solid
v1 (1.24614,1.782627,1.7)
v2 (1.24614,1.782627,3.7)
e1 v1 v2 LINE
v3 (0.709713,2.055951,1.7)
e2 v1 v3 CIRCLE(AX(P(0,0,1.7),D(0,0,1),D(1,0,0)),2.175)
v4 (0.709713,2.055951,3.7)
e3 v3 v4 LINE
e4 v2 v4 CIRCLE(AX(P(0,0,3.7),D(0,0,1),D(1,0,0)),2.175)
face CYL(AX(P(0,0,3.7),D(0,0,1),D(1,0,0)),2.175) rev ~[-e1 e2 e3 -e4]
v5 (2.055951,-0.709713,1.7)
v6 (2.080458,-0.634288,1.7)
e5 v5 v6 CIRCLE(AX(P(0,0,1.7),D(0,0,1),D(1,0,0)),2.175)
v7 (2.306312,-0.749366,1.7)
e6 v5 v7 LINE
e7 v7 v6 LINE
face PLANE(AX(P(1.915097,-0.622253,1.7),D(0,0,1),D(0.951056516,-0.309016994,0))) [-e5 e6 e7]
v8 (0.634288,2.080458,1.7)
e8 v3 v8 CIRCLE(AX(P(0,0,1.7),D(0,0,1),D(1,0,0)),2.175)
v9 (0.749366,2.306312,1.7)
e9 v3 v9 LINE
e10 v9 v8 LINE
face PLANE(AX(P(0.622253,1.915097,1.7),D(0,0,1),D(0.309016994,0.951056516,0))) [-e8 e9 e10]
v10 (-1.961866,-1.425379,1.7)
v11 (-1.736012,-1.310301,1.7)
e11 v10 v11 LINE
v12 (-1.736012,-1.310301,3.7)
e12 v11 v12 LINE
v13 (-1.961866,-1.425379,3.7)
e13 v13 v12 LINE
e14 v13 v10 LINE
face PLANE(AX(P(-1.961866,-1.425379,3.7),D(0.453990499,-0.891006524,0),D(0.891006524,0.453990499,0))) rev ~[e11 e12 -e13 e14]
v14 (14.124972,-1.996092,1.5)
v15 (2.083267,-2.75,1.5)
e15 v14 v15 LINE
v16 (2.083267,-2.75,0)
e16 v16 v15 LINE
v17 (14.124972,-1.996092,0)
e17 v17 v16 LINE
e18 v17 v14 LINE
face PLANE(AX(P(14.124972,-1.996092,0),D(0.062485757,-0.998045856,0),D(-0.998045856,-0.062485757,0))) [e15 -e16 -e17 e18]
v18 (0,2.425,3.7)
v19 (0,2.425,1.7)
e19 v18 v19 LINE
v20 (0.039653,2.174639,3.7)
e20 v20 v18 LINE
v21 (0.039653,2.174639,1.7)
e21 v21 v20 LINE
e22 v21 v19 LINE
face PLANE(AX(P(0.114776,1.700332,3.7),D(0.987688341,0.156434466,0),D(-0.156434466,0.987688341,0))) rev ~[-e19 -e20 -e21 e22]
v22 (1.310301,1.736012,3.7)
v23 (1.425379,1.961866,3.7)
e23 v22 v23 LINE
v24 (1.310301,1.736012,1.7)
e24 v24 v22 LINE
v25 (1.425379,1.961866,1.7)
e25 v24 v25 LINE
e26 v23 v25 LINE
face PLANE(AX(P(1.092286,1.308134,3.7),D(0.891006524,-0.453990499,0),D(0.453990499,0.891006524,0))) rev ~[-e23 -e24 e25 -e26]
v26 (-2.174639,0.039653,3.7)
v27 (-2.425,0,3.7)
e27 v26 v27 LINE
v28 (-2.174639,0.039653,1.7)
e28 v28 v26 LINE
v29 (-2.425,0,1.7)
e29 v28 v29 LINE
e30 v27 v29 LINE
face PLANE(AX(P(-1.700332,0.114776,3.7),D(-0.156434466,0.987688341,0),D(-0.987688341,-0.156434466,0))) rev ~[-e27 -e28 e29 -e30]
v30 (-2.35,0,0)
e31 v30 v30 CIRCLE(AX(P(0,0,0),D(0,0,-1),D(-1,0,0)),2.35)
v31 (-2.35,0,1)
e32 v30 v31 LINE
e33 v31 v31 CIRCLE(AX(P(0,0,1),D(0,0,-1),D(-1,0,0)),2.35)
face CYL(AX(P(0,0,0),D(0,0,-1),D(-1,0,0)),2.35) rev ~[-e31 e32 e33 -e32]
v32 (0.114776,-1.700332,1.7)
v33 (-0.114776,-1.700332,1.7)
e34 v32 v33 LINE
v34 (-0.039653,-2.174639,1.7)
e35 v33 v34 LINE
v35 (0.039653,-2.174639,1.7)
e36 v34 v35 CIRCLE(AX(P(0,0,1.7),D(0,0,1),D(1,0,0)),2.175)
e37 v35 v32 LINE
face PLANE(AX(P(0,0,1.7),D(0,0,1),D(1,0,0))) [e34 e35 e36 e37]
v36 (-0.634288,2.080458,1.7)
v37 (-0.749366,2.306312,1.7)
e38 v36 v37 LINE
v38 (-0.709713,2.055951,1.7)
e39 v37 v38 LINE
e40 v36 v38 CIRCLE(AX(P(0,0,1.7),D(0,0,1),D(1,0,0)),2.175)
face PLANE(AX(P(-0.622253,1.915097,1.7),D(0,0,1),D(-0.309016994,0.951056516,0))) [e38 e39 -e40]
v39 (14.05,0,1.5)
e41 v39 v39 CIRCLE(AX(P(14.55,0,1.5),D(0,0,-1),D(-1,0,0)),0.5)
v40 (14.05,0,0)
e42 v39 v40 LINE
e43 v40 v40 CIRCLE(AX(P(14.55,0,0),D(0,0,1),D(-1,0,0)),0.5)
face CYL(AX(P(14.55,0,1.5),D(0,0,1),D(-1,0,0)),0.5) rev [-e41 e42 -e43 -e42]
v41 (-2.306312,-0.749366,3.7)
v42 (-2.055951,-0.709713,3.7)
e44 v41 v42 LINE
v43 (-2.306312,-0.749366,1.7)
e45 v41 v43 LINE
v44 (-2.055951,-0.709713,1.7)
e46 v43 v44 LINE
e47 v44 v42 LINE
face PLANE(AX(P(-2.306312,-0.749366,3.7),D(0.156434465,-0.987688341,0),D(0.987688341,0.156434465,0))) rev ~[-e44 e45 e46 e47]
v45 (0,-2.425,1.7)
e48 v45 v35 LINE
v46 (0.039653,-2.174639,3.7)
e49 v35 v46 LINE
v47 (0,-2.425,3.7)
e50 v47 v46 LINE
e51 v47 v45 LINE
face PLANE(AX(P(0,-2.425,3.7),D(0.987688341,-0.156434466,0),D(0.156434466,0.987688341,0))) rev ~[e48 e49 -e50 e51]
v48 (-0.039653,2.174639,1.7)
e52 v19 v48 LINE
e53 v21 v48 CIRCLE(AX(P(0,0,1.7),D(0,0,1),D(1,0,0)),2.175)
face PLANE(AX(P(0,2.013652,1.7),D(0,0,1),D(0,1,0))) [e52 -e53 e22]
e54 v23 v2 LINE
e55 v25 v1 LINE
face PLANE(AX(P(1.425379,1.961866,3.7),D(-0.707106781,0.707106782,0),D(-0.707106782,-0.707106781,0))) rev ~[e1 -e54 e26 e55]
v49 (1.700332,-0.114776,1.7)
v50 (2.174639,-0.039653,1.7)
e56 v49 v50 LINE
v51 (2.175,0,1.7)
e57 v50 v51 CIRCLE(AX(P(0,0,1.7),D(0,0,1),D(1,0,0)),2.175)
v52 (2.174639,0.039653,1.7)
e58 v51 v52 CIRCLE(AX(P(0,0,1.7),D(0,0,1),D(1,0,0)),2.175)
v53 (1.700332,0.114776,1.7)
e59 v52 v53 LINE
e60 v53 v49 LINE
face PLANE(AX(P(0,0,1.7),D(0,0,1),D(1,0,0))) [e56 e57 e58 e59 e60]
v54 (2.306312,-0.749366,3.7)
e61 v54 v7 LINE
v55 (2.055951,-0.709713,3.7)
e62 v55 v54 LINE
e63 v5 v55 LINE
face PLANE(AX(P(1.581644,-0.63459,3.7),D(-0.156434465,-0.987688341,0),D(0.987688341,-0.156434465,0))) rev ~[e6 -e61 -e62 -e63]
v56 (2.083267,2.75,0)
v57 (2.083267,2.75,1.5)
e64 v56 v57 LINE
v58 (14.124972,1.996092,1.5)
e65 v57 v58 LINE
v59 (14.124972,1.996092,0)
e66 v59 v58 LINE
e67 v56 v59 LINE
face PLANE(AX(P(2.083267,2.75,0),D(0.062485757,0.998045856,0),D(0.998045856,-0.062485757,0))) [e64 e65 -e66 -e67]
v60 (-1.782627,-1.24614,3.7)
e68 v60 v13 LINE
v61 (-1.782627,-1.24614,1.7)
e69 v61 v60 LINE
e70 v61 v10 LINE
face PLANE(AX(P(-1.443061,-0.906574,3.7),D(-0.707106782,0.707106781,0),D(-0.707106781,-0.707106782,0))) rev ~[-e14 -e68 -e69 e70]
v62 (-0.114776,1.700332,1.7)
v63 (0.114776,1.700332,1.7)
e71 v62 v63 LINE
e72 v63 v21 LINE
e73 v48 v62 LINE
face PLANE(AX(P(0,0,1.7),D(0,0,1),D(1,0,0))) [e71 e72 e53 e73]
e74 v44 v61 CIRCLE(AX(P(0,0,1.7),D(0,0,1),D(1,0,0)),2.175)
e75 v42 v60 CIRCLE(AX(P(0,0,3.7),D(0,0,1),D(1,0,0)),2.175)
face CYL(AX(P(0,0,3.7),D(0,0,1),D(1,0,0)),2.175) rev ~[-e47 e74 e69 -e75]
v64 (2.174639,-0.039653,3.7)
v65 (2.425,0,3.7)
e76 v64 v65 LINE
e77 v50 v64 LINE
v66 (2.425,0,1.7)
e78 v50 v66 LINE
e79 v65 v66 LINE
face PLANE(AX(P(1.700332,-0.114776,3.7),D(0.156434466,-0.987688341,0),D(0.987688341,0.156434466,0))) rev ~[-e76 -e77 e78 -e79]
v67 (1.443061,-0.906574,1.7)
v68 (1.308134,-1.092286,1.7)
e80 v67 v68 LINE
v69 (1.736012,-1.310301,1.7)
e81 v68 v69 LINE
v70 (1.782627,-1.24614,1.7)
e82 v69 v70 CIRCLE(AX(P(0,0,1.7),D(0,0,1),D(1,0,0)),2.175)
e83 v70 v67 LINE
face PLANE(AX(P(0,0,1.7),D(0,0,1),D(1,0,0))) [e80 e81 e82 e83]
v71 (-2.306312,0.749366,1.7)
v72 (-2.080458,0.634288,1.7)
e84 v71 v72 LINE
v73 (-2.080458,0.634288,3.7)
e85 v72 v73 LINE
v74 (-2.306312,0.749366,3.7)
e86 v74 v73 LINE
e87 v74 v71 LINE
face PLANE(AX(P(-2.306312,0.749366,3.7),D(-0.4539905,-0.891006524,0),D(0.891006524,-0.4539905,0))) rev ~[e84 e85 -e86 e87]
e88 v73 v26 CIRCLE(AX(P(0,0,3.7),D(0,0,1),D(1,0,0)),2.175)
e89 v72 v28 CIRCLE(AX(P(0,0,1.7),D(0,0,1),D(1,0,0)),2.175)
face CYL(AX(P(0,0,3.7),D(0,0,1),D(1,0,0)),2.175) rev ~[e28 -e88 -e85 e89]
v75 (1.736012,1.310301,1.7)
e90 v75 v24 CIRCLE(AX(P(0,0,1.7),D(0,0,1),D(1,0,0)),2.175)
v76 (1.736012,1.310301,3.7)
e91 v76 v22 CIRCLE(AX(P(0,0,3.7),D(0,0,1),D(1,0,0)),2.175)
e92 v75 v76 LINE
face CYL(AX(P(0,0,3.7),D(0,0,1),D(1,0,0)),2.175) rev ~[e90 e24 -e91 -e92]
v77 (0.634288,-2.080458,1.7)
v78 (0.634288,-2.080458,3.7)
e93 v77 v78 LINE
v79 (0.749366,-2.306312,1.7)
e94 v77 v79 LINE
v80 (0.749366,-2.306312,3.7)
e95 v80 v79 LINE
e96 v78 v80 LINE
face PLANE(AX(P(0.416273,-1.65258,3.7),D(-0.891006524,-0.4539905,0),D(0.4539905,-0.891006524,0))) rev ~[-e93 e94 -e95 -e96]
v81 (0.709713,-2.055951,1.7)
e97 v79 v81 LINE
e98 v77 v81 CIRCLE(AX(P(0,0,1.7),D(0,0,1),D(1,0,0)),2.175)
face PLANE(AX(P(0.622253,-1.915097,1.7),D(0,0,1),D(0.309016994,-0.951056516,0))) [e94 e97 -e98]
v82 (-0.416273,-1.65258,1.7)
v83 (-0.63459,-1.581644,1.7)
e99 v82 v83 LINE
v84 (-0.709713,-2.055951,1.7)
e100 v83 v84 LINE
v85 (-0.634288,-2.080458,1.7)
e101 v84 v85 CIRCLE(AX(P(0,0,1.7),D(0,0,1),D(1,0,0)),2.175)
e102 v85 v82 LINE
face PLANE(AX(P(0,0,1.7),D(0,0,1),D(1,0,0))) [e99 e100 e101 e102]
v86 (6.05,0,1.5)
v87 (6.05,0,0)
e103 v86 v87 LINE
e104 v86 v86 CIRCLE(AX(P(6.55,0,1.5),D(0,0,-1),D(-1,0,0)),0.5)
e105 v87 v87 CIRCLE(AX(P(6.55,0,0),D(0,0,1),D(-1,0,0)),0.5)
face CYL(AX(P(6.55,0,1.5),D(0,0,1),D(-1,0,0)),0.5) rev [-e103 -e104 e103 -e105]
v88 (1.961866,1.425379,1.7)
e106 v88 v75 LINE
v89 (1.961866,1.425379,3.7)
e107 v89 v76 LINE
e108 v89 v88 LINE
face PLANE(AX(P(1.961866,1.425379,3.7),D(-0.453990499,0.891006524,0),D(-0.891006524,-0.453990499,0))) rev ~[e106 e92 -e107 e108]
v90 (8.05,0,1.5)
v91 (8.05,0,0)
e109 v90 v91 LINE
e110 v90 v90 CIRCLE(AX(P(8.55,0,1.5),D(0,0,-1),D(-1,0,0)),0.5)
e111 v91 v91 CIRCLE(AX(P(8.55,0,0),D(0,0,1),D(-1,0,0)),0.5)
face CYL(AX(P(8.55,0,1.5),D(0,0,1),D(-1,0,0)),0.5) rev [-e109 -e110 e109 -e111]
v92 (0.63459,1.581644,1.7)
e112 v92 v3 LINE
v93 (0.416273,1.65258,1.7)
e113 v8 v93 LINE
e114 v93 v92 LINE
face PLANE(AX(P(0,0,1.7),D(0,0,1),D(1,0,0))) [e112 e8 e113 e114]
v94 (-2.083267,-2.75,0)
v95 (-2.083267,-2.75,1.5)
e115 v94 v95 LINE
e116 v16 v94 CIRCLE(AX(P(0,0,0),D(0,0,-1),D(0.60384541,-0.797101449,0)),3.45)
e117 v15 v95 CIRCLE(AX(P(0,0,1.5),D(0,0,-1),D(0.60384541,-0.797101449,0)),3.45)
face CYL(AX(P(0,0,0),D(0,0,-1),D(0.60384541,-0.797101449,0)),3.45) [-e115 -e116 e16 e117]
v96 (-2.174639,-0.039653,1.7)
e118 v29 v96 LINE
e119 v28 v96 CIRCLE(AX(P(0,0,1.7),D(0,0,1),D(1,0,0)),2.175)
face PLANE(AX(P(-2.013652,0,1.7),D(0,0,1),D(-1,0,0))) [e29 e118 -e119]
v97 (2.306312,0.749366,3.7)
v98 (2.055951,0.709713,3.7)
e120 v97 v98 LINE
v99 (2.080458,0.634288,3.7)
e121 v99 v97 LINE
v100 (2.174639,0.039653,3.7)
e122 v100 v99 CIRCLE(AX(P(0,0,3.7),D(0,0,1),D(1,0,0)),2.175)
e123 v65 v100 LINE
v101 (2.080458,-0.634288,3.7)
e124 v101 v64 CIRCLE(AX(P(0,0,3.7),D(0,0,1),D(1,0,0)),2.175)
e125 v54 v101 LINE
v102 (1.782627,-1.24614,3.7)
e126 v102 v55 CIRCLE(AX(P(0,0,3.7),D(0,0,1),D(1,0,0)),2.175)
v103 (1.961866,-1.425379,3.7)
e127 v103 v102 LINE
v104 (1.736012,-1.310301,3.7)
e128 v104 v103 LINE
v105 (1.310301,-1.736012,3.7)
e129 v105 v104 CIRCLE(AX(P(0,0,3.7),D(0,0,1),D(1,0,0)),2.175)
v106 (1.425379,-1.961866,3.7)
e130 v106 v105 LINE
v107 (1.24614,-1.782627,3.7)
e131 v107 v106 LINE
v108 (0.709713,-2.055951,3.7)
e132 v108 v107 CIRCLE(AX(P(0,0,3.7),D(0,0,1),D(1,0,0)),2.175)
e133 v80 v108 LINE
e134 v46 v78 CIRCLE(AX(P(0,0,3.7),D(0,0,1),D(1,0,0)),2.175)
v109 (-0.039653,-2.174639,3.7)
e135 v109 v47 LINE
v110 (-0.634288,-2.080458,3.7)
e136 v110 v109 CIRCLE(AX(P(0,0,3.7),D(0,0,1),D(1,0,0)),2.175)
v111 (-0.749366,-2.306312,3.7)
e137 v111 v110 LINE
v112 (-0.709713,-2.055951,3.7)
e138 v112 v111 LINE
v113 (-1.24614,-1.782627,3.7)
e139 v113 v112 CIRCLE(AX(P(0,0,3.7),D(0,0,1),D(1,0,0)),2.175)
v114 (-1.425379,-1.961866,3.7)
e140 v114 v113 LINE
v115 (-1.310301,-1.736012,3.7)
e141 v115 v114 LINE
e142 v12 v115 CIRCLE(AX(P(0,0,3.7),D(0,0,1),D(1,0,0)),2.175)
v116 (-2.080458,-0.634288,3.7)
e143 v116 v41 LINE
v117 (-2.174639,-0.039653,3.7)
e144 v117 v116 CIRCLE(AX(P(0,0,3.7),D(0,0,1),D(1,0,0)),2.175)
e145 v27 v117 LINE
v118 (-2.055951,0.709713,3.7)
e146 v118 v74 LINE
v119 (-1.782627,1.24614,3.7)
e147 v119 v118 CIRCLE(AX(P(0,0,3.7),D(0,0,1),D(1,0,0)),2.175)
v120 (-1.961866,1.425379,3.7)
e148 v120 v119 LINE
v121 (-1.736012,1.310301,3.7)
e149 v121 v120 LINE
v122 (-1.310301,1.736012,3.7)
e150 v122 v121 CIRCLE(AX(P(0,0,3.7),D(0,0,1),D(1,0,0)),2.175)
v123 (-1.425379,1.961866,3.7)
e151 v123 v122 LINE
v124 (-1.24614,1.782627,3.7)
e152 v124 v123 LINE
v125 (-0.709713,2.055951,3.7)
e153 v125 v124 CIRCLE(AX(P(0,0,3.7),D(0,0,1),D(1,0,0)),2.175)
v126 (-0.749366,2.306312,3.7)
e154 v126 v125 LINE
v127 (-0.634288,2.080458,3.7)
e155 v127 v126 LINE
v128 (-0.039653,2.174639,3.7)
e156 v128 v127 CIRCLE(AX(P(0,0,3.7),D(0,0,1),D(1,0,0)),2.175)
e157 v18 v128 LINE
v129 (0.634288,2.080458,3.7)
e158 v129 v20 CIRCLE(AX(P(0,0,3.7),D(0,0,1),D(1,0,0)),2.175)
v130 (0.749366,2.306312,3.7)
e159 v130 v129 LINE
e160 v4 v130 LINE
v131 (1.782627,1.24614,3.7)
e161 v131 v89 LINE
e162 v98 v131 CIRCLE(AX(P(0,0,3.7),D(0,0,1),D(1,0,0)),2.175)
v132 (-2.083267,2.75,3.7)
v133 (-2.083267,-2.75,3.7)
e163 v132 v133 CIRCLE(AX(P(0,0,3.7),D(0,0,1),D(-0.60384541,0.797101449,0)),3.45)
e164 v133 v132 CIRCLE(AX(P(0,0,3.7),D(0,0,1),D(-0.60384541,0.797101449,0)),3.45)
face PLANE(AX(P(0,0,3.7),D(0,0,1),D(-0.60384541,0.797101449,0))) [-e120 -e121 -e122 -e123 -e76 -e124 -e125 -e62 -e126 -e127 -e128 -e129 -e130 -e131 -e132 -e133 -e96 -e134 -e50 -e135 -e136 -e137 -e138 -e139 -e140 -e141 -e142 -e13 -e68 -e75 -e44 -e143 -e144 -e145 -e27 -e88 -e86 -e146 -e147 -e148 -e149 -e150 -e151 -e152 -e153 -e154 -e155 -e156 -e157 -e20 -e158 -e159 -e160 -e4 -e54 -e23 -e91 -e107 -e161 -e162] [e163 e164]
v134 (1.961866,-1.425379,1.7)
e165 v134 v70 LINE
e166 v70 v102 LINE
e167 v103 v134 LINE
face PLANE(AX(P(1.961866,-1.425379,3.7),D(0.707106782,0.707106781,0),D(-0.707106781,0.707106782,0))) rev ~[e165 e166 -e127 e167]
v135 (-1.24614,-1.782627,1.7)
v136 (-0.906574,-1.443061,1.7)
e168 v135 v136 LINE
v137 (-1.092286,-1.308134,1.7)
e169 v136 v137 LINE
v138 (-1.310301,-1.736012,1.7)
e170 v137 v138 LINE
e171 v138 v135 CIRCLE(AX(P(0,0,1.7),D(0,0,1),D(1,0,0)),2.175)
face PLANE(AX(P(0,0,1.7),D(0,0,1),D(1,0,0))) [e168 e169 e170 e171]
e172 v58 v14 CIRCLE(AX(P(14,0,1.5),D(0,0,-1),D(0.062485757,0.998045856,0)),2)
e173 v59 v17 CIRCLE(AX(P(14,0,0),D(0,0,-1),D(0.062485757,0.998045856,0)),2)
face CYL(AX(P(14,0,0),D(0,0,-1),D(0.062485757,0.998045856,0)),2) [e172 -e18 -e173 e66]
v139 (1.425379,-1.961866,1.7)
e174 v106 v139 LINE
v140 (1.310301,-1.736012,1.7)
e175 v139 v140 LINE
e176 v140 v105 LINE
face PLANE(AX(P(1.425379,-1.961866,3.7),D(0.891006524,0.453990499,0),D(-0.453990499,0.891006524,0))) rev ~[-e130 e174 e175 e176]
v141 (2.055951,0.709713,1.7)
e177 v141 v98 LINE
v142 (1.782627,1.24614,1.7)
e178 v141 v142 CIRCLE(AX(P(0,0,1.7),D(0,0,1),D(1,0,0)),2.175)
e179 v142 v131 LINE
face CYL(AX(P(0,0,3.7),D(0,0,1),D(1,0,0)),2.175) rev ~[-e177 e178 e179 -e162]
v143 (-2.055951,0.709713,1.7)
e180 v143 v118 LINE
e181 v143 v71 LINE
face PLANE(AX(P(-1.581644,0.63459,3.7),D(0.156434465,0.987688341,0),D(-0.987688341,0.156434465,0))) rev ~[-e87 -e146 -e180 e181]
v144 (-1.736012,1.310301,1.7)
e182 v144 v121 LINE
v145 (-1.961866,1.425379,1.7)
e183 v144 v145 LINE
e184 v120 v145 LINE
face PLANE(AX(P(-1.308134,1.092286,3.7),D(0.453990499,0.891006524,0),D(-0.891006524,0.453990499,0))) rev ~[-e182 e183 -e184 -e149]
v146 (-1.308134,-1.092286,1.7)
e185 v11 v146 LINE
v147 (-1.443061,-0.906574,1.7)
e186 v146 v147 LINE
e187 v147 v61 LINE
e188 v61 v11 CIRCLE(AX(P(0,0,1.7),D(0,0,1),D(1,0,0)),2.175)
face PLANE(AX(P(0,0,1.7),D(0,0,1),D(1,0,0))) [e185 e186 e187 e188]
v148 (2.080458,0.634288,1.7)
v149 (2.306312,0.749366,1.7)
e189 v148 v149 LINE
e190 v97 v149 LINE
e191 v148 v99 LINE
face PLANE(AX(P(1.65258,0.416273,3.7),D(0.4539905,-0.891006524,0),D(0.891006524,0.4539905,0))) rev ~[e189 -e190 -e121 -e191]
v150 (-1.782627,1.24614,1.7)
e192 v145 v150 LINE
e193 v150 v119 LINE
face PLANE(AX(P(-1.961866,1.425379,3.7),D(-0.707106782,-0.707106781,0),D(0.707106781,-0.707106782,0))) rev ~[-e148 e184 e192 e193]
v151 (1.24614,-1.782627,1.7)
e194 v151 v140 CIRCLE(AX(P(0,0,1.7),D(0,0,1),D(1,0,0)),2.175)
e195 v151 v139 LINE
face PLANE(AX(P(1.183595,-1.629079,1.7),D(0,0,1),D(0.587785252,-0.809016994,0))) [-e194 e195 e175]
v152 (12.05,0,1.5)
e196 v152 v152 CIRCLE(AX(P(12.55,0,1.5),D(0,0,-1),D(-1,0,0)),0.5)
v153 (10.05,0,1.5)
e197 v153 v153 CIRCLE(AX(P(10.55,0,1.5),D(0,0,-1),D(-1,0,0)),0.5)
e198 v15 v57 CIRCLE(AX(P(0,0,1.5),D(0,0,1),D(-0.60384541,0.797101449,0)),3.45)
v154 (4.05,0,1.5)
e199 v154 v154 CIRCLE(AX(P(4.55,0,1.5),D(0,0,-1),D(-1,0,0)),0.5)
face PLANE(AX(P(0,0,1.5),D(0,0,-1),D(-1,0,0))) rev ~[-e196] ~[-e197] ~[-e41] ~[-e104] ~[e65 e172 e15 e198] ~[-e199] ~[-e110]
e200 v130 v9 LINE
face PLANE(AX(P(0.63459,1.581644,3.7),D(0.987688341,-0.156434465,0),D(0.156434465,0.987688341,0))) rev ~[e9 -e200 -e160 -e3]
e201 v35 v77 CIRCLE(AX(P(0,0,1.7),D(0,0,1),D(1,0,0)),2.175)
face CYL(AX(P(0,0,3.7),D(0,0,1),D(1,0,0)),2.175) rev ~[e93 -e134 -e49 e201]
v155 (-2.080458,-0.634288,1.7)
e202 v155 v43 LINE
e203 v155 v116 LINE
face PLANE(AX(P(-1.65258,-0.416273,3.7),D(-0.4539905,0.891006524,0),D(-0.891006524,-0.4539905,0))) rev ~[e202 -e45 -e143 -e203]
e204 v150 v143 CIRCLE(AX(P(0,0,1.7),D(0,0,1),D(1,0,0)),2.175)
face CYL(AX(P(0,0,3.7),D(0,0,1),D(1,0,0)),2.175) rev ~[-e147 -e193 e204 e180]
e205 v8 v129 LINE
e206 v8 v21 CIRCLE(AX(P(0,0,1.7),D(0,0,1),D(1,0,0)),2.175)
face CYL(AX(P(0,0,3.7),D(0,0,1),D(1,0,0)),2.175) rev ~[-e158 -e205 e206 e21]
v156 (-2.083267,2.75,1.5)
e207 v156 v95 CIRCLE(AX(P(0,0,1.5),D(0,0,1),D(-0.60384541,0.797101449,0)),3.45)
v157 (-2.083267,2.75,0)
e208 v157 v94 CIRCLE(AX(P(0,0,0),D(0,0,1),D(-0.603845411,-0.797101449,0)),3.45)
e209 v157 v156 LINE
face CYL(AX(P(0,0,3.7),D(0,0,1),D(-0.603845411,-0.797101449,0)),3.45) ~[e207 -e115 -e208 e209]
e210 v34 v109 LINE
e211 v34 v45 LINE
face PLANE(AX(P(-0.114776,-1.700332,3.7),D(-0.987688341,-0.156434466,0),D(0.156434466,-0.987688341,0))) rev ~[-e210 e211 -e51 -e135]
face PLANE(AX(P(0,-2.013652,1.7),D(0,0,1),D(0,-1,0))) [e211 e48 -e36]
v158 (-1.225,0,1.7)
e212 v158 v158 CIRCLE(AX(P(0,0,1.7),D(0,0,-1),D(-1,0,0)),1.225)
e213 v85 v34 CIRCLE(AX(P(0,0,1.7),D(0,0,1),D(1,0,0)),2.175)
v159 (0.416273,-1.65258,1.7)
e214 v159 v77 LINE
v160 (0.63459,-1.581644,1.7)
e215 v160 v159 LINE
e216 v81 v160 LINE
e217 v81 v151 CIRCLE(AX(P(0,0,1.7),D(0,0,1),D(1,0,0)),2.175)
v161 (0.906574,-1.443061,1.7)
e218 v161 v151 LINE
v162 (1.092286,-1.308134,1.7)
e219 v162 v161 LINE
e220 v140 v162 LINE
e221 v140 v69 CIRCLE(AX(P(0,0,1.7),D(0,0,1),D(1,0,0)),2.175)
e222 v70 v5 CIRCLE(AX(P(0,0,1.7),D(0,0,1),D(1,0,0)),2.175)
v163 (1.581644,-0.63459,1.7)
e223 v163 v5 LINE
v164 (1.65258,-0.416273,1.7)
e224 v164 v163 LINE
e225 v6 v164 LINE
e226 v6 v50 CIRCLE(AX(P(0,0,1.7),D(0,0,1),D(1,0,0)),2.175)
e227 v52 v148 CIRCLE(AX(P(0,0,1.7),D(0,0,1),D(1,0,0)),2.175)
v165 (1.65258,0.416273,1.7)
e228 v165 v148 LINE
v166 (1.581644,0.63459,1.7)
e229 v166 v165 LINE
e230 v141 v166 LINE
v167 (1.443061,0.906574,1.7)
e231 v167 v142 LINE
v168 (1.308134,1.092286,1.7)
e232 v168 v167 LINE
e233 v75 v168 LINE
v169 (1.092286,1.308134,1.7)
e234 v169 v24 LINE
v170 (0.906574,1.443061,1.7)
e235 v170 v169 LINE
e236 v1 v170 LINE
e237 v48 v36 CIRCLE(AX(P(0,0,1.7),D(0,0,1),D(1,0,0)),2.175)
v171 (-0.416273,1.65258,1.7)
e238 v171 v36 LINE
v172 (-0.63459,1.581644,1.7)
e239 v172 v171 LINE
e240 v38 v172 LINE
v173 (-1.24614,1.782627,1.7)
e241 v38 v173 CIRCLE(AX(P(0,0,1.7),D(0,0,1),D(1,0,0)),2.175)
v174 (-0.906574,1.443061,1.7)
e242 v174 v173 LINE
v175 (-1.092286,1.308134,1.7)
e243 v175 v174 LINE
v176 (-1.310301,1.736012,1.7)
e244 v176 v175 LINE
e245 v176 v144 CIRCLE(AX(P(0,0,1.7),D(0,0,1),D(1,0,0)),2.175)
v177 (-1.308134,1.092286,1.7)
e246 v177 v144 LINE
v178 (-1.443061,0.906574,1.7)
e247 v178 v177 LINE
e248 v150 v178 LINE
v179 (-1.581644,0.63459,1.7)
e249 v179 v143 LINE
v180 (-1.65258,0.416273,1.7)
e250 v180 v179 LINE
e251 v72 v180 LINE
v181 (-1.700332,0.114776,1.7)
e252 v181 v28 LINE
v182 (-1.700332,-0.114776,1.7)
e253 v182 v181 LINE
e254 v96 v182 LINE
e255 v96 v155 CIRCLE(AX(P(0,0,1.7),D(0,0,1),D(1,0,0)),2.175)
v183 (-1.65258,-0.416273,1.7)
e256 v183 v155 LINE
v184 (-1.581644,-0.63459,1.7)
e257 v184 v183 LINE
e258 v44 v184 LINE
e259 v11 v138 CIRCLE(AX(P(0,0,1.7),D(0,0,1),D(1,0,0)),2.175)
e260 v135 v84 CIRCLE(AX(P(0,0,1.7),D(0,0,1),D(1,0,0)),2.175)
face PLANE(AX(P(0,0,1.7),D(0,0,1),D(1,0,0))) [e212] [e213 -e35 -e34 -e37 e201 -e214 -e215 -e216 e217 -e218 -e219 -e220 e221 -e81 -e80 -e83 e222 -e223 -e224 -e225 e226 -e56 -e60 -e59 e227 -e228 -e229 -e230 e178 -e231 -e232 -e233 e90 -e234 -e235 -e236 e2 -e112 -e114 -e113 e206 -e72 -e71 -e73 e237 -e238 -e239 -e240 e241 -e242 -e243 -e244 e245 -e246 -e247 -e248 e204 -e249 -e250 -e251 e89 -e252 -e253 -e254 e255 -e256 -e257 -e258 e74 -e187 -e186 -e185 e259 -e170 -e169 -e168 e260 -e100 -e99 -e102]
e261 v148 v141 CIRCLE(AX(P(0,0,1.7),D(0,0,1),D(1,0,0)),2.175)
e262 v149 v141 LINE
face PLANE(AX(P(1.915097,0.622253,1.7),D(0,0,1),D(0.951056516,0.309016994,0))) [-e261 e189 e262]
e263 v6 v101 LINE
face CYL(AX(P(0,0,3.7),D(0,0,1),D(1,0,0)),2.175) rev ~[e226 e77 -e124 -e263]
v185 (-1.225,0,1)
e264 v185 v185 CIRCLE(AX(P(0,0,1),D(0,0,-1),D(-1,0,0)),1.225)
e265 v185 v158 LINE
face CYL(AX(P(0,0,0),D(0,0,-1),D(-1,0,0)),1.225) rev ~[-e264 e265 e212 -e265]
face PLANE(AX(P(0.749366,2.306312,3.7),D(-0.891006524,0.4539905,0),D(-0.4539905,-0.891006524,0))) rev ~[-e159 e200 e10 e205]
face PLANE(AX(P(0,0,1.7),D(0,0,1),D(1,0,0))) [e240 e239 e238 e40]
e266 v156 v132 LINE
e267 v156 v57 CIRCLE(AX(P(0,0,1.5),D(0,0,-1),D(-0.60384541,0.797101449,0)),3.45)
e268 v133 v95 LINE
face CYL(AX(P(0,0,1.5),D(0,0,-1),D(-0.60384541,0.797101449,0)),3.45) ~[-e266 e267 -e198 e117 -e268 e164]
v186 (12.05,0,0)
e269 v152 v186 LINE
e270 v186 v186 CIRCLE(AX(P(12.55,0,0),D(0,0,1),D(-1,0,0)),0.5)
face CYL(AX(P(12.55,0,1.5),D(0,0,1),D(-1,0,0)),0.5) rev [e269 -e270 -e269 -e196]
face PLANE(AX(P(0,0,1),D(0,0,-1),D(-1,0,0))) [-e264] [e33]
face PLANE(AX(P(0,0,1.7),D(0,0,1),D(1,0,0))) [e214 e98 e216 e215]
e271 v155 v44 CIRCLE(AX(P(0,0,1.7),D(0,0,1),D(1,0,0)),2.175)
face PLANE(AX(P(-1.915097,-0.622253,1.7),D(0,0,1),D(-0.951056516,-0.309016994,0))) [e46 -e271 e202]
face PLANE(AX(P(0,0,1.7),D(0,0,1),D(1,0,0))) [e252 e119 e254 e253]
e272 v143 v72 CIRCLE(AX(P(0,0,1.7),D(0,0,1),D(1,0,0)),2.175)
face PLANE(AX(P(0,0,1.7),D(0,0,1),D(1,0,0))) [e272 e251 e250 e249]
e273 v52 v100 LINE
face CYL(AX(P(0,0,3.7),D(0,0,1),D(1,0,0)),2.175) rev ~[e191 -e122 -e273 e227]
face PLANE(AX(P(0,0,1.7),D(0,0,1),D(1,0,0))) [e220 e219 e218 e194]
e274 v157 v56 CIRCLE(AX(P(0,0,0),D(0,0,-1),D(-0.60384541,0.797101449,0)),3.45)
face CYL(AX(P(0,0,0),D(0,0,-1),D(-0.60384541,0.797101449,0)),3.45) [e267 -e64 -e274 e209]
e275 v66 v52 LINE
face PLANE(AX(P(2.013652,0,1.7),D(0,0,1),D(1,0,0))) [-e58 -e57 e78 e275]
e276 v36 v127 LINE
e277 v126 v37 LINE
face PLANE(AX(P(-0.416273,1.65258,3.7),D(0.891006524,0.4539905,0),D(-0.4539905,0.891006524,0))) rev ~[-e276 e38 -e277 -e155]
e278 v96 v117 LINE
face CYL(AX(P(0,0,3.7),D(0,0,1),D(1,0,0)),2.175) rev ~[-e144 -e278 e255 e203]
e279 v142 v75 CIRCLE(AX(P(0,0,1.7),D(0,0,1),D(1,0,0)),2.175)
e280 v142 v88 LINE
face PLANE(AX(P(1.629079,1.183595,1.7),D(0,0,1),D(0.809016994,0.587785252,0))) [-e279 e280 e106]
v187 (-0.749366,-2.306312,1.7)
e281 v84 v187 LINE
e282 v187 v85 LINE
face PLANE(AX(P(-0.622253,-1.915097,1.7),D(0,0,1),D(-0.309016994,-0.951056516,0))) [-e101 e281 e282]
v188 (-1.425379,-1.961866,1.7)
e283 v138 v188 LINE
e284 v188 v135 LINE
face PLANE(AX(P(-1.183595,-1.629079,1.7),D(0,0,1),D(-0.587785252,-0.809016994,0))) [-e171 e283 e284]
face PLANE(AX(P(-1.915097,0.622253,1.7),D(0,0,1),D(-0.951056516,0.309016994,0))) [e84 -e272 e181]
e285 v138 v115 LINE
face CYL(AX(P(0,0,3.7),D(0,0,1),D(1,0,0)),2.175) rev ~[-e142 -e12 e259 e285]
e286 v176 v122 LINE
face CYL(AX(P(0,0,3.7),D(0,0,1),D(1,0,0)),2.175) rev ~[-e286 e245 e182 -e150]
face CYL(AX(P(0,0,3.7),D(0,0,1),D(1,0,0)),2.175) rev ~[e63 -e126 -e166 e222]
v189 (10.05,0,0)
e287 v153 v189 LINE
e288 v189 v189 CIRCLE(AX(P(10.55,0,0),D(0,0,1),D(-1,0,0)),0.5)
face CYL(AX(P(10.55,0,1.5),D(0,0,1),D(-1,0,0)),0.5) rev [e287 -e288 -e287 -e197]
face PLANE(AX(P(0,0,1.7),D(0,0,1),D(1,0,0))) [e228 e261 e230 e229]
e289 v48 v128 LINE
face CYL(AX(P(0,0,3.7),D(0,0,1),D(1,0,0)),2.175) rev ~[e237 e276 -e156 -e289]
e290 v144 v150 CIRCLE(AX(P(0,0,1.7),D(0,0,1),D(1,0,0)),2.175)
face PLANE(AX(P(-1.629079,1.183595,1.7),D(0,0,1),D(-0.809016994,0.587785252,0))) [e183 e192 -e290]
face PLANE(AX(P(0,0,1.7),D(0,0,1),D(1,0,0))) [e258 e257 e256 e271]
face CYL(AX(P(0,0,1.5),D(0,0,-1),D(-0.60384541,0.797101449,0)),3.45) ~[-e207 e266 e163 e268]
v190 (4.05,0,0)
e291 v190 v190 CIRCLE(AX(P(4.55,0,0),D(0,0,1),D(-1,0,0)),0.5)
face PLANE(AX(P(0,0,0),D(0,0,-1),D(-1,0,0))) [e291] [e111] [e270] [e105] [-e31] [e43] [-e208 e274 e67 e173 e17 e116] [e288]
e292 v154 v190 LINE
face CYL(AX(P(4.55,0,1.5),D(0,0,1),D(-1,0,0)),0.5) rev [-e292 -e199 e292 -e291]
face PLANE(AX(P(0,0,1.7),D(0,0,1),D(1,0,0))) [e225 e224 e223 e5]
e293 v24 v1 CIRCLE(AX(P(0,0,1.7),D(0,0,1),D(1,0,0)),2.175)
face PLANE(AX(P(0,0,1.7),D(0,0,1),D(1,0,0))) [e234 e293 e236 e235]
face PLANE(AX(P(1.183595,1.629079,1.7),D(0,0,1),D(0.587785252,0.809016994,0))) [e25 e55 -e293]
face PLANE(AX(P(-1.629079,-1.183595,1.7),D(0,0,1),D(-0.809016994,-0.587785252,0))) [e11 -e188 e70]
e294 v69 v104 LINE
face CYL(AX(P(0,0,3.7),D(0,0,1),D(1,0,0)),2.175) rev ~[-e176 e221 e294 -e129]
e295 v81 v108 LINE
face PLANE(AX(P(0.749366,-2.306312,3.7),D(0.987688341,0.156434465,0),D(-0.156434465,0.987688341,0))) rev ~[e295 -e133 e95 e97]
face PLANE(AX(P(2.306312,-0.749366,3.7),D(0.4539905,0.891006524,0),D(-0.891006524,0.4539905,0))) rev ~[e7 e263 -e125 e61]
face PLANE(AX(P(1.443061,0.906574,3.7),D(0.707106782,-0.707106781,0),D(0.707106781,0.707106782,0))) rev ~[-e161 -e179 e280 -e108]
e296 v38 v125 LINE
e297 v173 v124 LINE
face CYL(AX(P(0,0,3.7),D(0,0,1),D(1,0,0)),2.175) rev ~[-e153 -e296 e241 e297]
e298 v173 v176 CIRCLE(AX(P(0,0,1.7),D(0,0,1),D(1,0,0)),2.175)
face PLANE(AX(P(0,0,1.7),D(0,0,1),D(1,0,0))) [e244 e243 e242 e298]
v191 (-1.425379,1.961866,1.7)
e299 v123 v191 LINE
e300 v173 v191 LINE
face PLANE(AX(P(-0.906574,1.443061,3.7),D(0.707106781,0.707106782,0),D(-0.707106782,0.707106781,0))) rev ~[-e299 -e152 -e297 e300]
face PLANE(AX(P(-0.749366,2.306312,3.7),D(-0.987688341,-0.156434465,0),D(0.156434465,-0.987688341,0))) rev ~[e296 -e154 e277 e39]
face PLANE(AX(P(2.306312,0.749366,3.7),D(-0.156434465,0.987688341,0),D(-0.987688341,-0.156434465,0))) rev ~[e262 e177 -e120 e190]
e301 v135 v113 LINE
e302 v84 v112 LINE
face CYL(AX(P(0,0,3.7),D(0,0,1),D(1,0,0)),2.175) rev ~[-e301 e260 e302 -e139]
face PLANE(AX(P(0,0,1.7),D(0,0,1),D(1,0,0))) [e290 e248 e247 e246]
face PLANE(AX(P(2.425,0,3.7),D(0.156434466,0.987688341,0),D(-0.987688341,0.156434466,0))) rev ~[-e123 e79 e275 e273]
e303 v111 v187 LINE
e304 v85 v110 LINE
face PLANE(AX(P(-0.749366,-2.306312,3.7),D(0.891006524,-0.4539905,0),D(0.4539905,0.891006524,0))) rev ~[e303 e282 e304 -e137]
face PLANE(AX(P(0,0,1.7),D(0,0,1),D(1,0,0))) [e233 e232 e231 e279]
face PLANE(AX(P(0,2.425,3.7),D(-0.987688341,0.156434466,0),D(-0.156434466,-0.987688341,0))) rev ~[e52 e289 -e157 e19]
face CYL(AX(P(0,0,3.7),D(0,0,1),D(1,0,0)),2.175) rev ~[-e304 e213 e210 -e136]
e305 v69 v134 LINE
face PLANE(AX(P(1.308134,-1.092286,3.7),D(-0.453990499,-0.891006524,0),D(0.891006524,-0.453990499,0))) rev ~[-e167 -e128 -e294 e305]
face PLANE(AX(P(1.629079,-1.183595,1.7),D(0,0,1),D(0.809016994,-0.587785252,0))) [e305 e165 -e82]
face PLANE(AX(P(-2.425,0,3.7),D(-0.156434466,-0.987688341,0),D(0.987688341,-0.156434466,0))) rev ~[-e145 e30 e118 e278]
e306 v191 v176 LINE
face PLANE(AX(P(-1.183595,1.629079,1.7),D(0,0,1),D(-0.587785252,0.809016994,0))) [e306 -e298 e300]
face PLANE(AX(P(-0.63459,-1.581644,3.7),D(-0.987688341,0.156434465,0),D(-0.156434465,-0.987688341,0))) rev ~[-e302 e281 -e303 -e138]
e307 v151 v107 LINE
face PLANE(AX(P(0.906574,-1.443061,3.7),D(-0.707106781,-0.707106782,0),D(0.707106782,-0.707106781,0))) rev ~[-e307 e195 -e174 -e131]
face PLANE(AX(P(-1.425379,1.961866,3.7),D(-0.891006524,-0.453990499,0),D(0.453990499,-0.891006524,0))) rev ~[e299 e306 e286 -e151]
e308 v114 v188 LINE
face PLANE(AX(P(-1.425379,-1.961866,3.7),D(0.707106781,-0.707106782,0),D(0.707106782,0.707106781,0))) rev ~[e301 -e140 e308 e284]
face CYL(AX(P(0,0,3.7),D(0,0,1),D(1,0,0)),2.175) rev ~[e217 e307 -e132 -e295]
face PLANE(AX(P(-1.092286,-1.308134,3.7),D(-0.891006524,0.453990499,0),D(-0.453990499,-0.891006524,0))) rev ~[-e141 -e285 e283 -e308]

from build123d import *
from build123d.topology import SkipClean

# Parameters (mm, degrees)
EXTRUDE_1_DEPTH          = 1.5
SKETCH_2_R               = 3.45
EXTRUDE_2_DEPTH          = 2.2
SKETCH_4_R               = 1.225
CUT_EXTRUDE_2_DEPTH      = 17.780718101
SKETCH_3_R               = 2.175
CUT_EXTRUDE_1_DEPTH      = 2
CUT_EXTRUDE_3_DEPTH      = 2
PATTERN_CIRCULAR_1_COUNT = 20
SKETCH_6_R               = 2.35
CUT_EXTRUDE_4_DEPTH      = 1
SKETCH_7_R               = 0.5
CUT_EXTRUDE_5_DEPTH      = 17.514917499
CUT_EXTRUDE_6_DEPTH      = 17.780718101


with BuildPart() as part:
    # 草图1 → 凸台-拉伸1 (new body)
    with BuildSketch(Plane.XY):
        with BuildLine():
            Line((-14.124971514, 1.996091711), (-2.083266666, 2.75))
            ThreePointArc((-2.083266666, 2.75), (0, 3.45), (2.083266666, 2.75))
            Line((2.083266666, 2.75), (14.124971514, 1.996091711))
            ThreePointArc((14.124971514, 1.996091711), (16, 0), (14.124971514, -1.996091711))
            Line((14.124971514, -1.996091711), (2.083266666, -2.75))
            ThreePointArc((2.083266666, -2.75), (0, -3.45), (-2.083266666, -2.75))
            Line((-2.083266666, -2.75), (-14.124971514, -1.996091711))
            ThreePointArc((-14.124971514, -1.996091711), (-16, 0), (-14.124971514, 1.996091711))
        make_face()
    extrude(amount=EXTRUDE_1_DEPTH)

    # 草图2 → 凸台-拉伸2 (add)
    with SkipClean():  # the faces are left unmerged after this step: merging them gives an invalid solid
        with BuildSketch(Plane.XY.offset(1.5)):
            with Locations(Location((0, 0, 0), (0, 0, 127.145804172))):
                Circle(SKETCH_2_R)
        extrude(amount=EXTRUDE_2_DEPTH)

    # 草图4 → 切除-拉伸2 (cut, through all)
    with SkipClean():  # the faces are left unmerged after this step: merging them gives an invalid solid
        with BuildSketch(Plane(origin=(0, 0, 0), x_dir=(-1, 0, 0), z_dir=(0, 0, -1))):
            Circle(SKETCH_4_R)
        extrude(amount=-CUT_EXTRUDE_2_DEPTH, mode=Mode.SUBTRACT)

    # 草图3 → 切除-拉伸1 (cut)
    with SkipClean():  # the faces are left unmerged after this step: merging them gives an invalid solid
        with BuildSketch(Plane.XY.offset(3.7)):
            Circle(SKETCH_3_R)
        extrude(amount=-CUT_EXTRUDE_1_DEPTH, mode=Mode.SUBTRACT)

    # 草图5 → 切除-拉伸3 (cut)
    with SkipClean():  # the faces are left unmerged after this step: merging them gives an invalid solid
        with BuildSketch(Plane.XY.offset(3.7)):
            Polygon((2.425, 0), (1.700332145, 0.114776113), (1.700332145, -0.114776113), align=None)
        cut_extrude_3 = extrude(amount=-CUT_EXTRUDE_3_DEPTH, mode=Mode.SUBTRACT)

    # 阵列(圆周)1: 切除-拉伸3 ×20 about axis
    with SkipClean():  # the faces are left unmerged after this step: merging them gives an invalid solid
        pattern_circular_1_axis = Axis((0, 0, 0), (0, 0, 1))
        for i in range(1, PATTERN_CIRCULAR_1_COUNT):
            add(cut_extrude_3.rotate(pattern_circular_1_axis, i * 360 / PATTERN_CIRCULAR_1_COUNT), mode=Mode.SUBTRACT)

    # 草图6 → 切除-拉伸4 (cut)
    with SkipClean():  # the faces are left unmerged after this step: merging them gives an invalid solid
        with BuildSketch(Plane(origin=(0, 0, 0), x_dir=(-1, 0, 0), z_dir=(0, 0, -1))):
            Circle(SKETCH_6_R)
        extrude(amount=-CUT_EXTRUDE_4_DEPTH, mode=Mode.SUBTRACT)

    # 草图7 → 切除-拉伸5 (cut, through all)
    with SkipClean():  # the faces are left unmerged after this step: merging them gives an invalid solid
        with BuildSketch(Plane.XY.offset(1.5)):
            with Locations((-4.55, 0)):
                Circle(SKETCH_7_R)
            with Locations((-6.55, 0)):
                Circle(SKETCH_7_R)
            with Locations((-8.55, 0)):
                Circle(SKETCH_7_R)
            with Locations((-10.55, 0)):
                Circle(SKETCH_7_R)
            with Locations((-12.55, 0)):
                Circle(SKETCH_7_R)
            with Locations((-14.55, 0)):
                Circle(SKETCH_7_R)
        cut_extrude_5 = extrude(amount=-CUT_EXTRUDE_5_DEPTH, mode=Mode.SUBTRACT)

    # 镜向1: 切除-拉伸5 across plane
    with SkipClean():  # the faces are left unmerged after this step: merging them gives an invalid solid
        add(cut_extrude_5.mirror(Plane(origin=(0, 0, 0), x_dir=(0, 0, 1), z_dir=(1, 0, 0))), mode=Mode.SUBTRACT)

    # 草图8 → 切除-拉伸6 (cut, through all)
    with SkipClean():  # the faces are left unmerged after this step: merging them gives an invalid solid
        with BuildSketch(Plane.XY.offset(3.7)):
            with BuildLine():
                Line((-2.083266666, 2.75), (-16, 2.75))
                Line((-16, 2.75), (-16, -2.75))
                Line((-16, -2.75), (-2.083266666, -2.75))
                ThreePointArc((-2.083266666, -2.75), (-3.45, 0), (-2.083266666, 2.75))
            make_face()
        extrude(amount=-CUT_EXTRUDE_6_DEPTH, mode=Mode.SUBTRACT)


solid = part.part
